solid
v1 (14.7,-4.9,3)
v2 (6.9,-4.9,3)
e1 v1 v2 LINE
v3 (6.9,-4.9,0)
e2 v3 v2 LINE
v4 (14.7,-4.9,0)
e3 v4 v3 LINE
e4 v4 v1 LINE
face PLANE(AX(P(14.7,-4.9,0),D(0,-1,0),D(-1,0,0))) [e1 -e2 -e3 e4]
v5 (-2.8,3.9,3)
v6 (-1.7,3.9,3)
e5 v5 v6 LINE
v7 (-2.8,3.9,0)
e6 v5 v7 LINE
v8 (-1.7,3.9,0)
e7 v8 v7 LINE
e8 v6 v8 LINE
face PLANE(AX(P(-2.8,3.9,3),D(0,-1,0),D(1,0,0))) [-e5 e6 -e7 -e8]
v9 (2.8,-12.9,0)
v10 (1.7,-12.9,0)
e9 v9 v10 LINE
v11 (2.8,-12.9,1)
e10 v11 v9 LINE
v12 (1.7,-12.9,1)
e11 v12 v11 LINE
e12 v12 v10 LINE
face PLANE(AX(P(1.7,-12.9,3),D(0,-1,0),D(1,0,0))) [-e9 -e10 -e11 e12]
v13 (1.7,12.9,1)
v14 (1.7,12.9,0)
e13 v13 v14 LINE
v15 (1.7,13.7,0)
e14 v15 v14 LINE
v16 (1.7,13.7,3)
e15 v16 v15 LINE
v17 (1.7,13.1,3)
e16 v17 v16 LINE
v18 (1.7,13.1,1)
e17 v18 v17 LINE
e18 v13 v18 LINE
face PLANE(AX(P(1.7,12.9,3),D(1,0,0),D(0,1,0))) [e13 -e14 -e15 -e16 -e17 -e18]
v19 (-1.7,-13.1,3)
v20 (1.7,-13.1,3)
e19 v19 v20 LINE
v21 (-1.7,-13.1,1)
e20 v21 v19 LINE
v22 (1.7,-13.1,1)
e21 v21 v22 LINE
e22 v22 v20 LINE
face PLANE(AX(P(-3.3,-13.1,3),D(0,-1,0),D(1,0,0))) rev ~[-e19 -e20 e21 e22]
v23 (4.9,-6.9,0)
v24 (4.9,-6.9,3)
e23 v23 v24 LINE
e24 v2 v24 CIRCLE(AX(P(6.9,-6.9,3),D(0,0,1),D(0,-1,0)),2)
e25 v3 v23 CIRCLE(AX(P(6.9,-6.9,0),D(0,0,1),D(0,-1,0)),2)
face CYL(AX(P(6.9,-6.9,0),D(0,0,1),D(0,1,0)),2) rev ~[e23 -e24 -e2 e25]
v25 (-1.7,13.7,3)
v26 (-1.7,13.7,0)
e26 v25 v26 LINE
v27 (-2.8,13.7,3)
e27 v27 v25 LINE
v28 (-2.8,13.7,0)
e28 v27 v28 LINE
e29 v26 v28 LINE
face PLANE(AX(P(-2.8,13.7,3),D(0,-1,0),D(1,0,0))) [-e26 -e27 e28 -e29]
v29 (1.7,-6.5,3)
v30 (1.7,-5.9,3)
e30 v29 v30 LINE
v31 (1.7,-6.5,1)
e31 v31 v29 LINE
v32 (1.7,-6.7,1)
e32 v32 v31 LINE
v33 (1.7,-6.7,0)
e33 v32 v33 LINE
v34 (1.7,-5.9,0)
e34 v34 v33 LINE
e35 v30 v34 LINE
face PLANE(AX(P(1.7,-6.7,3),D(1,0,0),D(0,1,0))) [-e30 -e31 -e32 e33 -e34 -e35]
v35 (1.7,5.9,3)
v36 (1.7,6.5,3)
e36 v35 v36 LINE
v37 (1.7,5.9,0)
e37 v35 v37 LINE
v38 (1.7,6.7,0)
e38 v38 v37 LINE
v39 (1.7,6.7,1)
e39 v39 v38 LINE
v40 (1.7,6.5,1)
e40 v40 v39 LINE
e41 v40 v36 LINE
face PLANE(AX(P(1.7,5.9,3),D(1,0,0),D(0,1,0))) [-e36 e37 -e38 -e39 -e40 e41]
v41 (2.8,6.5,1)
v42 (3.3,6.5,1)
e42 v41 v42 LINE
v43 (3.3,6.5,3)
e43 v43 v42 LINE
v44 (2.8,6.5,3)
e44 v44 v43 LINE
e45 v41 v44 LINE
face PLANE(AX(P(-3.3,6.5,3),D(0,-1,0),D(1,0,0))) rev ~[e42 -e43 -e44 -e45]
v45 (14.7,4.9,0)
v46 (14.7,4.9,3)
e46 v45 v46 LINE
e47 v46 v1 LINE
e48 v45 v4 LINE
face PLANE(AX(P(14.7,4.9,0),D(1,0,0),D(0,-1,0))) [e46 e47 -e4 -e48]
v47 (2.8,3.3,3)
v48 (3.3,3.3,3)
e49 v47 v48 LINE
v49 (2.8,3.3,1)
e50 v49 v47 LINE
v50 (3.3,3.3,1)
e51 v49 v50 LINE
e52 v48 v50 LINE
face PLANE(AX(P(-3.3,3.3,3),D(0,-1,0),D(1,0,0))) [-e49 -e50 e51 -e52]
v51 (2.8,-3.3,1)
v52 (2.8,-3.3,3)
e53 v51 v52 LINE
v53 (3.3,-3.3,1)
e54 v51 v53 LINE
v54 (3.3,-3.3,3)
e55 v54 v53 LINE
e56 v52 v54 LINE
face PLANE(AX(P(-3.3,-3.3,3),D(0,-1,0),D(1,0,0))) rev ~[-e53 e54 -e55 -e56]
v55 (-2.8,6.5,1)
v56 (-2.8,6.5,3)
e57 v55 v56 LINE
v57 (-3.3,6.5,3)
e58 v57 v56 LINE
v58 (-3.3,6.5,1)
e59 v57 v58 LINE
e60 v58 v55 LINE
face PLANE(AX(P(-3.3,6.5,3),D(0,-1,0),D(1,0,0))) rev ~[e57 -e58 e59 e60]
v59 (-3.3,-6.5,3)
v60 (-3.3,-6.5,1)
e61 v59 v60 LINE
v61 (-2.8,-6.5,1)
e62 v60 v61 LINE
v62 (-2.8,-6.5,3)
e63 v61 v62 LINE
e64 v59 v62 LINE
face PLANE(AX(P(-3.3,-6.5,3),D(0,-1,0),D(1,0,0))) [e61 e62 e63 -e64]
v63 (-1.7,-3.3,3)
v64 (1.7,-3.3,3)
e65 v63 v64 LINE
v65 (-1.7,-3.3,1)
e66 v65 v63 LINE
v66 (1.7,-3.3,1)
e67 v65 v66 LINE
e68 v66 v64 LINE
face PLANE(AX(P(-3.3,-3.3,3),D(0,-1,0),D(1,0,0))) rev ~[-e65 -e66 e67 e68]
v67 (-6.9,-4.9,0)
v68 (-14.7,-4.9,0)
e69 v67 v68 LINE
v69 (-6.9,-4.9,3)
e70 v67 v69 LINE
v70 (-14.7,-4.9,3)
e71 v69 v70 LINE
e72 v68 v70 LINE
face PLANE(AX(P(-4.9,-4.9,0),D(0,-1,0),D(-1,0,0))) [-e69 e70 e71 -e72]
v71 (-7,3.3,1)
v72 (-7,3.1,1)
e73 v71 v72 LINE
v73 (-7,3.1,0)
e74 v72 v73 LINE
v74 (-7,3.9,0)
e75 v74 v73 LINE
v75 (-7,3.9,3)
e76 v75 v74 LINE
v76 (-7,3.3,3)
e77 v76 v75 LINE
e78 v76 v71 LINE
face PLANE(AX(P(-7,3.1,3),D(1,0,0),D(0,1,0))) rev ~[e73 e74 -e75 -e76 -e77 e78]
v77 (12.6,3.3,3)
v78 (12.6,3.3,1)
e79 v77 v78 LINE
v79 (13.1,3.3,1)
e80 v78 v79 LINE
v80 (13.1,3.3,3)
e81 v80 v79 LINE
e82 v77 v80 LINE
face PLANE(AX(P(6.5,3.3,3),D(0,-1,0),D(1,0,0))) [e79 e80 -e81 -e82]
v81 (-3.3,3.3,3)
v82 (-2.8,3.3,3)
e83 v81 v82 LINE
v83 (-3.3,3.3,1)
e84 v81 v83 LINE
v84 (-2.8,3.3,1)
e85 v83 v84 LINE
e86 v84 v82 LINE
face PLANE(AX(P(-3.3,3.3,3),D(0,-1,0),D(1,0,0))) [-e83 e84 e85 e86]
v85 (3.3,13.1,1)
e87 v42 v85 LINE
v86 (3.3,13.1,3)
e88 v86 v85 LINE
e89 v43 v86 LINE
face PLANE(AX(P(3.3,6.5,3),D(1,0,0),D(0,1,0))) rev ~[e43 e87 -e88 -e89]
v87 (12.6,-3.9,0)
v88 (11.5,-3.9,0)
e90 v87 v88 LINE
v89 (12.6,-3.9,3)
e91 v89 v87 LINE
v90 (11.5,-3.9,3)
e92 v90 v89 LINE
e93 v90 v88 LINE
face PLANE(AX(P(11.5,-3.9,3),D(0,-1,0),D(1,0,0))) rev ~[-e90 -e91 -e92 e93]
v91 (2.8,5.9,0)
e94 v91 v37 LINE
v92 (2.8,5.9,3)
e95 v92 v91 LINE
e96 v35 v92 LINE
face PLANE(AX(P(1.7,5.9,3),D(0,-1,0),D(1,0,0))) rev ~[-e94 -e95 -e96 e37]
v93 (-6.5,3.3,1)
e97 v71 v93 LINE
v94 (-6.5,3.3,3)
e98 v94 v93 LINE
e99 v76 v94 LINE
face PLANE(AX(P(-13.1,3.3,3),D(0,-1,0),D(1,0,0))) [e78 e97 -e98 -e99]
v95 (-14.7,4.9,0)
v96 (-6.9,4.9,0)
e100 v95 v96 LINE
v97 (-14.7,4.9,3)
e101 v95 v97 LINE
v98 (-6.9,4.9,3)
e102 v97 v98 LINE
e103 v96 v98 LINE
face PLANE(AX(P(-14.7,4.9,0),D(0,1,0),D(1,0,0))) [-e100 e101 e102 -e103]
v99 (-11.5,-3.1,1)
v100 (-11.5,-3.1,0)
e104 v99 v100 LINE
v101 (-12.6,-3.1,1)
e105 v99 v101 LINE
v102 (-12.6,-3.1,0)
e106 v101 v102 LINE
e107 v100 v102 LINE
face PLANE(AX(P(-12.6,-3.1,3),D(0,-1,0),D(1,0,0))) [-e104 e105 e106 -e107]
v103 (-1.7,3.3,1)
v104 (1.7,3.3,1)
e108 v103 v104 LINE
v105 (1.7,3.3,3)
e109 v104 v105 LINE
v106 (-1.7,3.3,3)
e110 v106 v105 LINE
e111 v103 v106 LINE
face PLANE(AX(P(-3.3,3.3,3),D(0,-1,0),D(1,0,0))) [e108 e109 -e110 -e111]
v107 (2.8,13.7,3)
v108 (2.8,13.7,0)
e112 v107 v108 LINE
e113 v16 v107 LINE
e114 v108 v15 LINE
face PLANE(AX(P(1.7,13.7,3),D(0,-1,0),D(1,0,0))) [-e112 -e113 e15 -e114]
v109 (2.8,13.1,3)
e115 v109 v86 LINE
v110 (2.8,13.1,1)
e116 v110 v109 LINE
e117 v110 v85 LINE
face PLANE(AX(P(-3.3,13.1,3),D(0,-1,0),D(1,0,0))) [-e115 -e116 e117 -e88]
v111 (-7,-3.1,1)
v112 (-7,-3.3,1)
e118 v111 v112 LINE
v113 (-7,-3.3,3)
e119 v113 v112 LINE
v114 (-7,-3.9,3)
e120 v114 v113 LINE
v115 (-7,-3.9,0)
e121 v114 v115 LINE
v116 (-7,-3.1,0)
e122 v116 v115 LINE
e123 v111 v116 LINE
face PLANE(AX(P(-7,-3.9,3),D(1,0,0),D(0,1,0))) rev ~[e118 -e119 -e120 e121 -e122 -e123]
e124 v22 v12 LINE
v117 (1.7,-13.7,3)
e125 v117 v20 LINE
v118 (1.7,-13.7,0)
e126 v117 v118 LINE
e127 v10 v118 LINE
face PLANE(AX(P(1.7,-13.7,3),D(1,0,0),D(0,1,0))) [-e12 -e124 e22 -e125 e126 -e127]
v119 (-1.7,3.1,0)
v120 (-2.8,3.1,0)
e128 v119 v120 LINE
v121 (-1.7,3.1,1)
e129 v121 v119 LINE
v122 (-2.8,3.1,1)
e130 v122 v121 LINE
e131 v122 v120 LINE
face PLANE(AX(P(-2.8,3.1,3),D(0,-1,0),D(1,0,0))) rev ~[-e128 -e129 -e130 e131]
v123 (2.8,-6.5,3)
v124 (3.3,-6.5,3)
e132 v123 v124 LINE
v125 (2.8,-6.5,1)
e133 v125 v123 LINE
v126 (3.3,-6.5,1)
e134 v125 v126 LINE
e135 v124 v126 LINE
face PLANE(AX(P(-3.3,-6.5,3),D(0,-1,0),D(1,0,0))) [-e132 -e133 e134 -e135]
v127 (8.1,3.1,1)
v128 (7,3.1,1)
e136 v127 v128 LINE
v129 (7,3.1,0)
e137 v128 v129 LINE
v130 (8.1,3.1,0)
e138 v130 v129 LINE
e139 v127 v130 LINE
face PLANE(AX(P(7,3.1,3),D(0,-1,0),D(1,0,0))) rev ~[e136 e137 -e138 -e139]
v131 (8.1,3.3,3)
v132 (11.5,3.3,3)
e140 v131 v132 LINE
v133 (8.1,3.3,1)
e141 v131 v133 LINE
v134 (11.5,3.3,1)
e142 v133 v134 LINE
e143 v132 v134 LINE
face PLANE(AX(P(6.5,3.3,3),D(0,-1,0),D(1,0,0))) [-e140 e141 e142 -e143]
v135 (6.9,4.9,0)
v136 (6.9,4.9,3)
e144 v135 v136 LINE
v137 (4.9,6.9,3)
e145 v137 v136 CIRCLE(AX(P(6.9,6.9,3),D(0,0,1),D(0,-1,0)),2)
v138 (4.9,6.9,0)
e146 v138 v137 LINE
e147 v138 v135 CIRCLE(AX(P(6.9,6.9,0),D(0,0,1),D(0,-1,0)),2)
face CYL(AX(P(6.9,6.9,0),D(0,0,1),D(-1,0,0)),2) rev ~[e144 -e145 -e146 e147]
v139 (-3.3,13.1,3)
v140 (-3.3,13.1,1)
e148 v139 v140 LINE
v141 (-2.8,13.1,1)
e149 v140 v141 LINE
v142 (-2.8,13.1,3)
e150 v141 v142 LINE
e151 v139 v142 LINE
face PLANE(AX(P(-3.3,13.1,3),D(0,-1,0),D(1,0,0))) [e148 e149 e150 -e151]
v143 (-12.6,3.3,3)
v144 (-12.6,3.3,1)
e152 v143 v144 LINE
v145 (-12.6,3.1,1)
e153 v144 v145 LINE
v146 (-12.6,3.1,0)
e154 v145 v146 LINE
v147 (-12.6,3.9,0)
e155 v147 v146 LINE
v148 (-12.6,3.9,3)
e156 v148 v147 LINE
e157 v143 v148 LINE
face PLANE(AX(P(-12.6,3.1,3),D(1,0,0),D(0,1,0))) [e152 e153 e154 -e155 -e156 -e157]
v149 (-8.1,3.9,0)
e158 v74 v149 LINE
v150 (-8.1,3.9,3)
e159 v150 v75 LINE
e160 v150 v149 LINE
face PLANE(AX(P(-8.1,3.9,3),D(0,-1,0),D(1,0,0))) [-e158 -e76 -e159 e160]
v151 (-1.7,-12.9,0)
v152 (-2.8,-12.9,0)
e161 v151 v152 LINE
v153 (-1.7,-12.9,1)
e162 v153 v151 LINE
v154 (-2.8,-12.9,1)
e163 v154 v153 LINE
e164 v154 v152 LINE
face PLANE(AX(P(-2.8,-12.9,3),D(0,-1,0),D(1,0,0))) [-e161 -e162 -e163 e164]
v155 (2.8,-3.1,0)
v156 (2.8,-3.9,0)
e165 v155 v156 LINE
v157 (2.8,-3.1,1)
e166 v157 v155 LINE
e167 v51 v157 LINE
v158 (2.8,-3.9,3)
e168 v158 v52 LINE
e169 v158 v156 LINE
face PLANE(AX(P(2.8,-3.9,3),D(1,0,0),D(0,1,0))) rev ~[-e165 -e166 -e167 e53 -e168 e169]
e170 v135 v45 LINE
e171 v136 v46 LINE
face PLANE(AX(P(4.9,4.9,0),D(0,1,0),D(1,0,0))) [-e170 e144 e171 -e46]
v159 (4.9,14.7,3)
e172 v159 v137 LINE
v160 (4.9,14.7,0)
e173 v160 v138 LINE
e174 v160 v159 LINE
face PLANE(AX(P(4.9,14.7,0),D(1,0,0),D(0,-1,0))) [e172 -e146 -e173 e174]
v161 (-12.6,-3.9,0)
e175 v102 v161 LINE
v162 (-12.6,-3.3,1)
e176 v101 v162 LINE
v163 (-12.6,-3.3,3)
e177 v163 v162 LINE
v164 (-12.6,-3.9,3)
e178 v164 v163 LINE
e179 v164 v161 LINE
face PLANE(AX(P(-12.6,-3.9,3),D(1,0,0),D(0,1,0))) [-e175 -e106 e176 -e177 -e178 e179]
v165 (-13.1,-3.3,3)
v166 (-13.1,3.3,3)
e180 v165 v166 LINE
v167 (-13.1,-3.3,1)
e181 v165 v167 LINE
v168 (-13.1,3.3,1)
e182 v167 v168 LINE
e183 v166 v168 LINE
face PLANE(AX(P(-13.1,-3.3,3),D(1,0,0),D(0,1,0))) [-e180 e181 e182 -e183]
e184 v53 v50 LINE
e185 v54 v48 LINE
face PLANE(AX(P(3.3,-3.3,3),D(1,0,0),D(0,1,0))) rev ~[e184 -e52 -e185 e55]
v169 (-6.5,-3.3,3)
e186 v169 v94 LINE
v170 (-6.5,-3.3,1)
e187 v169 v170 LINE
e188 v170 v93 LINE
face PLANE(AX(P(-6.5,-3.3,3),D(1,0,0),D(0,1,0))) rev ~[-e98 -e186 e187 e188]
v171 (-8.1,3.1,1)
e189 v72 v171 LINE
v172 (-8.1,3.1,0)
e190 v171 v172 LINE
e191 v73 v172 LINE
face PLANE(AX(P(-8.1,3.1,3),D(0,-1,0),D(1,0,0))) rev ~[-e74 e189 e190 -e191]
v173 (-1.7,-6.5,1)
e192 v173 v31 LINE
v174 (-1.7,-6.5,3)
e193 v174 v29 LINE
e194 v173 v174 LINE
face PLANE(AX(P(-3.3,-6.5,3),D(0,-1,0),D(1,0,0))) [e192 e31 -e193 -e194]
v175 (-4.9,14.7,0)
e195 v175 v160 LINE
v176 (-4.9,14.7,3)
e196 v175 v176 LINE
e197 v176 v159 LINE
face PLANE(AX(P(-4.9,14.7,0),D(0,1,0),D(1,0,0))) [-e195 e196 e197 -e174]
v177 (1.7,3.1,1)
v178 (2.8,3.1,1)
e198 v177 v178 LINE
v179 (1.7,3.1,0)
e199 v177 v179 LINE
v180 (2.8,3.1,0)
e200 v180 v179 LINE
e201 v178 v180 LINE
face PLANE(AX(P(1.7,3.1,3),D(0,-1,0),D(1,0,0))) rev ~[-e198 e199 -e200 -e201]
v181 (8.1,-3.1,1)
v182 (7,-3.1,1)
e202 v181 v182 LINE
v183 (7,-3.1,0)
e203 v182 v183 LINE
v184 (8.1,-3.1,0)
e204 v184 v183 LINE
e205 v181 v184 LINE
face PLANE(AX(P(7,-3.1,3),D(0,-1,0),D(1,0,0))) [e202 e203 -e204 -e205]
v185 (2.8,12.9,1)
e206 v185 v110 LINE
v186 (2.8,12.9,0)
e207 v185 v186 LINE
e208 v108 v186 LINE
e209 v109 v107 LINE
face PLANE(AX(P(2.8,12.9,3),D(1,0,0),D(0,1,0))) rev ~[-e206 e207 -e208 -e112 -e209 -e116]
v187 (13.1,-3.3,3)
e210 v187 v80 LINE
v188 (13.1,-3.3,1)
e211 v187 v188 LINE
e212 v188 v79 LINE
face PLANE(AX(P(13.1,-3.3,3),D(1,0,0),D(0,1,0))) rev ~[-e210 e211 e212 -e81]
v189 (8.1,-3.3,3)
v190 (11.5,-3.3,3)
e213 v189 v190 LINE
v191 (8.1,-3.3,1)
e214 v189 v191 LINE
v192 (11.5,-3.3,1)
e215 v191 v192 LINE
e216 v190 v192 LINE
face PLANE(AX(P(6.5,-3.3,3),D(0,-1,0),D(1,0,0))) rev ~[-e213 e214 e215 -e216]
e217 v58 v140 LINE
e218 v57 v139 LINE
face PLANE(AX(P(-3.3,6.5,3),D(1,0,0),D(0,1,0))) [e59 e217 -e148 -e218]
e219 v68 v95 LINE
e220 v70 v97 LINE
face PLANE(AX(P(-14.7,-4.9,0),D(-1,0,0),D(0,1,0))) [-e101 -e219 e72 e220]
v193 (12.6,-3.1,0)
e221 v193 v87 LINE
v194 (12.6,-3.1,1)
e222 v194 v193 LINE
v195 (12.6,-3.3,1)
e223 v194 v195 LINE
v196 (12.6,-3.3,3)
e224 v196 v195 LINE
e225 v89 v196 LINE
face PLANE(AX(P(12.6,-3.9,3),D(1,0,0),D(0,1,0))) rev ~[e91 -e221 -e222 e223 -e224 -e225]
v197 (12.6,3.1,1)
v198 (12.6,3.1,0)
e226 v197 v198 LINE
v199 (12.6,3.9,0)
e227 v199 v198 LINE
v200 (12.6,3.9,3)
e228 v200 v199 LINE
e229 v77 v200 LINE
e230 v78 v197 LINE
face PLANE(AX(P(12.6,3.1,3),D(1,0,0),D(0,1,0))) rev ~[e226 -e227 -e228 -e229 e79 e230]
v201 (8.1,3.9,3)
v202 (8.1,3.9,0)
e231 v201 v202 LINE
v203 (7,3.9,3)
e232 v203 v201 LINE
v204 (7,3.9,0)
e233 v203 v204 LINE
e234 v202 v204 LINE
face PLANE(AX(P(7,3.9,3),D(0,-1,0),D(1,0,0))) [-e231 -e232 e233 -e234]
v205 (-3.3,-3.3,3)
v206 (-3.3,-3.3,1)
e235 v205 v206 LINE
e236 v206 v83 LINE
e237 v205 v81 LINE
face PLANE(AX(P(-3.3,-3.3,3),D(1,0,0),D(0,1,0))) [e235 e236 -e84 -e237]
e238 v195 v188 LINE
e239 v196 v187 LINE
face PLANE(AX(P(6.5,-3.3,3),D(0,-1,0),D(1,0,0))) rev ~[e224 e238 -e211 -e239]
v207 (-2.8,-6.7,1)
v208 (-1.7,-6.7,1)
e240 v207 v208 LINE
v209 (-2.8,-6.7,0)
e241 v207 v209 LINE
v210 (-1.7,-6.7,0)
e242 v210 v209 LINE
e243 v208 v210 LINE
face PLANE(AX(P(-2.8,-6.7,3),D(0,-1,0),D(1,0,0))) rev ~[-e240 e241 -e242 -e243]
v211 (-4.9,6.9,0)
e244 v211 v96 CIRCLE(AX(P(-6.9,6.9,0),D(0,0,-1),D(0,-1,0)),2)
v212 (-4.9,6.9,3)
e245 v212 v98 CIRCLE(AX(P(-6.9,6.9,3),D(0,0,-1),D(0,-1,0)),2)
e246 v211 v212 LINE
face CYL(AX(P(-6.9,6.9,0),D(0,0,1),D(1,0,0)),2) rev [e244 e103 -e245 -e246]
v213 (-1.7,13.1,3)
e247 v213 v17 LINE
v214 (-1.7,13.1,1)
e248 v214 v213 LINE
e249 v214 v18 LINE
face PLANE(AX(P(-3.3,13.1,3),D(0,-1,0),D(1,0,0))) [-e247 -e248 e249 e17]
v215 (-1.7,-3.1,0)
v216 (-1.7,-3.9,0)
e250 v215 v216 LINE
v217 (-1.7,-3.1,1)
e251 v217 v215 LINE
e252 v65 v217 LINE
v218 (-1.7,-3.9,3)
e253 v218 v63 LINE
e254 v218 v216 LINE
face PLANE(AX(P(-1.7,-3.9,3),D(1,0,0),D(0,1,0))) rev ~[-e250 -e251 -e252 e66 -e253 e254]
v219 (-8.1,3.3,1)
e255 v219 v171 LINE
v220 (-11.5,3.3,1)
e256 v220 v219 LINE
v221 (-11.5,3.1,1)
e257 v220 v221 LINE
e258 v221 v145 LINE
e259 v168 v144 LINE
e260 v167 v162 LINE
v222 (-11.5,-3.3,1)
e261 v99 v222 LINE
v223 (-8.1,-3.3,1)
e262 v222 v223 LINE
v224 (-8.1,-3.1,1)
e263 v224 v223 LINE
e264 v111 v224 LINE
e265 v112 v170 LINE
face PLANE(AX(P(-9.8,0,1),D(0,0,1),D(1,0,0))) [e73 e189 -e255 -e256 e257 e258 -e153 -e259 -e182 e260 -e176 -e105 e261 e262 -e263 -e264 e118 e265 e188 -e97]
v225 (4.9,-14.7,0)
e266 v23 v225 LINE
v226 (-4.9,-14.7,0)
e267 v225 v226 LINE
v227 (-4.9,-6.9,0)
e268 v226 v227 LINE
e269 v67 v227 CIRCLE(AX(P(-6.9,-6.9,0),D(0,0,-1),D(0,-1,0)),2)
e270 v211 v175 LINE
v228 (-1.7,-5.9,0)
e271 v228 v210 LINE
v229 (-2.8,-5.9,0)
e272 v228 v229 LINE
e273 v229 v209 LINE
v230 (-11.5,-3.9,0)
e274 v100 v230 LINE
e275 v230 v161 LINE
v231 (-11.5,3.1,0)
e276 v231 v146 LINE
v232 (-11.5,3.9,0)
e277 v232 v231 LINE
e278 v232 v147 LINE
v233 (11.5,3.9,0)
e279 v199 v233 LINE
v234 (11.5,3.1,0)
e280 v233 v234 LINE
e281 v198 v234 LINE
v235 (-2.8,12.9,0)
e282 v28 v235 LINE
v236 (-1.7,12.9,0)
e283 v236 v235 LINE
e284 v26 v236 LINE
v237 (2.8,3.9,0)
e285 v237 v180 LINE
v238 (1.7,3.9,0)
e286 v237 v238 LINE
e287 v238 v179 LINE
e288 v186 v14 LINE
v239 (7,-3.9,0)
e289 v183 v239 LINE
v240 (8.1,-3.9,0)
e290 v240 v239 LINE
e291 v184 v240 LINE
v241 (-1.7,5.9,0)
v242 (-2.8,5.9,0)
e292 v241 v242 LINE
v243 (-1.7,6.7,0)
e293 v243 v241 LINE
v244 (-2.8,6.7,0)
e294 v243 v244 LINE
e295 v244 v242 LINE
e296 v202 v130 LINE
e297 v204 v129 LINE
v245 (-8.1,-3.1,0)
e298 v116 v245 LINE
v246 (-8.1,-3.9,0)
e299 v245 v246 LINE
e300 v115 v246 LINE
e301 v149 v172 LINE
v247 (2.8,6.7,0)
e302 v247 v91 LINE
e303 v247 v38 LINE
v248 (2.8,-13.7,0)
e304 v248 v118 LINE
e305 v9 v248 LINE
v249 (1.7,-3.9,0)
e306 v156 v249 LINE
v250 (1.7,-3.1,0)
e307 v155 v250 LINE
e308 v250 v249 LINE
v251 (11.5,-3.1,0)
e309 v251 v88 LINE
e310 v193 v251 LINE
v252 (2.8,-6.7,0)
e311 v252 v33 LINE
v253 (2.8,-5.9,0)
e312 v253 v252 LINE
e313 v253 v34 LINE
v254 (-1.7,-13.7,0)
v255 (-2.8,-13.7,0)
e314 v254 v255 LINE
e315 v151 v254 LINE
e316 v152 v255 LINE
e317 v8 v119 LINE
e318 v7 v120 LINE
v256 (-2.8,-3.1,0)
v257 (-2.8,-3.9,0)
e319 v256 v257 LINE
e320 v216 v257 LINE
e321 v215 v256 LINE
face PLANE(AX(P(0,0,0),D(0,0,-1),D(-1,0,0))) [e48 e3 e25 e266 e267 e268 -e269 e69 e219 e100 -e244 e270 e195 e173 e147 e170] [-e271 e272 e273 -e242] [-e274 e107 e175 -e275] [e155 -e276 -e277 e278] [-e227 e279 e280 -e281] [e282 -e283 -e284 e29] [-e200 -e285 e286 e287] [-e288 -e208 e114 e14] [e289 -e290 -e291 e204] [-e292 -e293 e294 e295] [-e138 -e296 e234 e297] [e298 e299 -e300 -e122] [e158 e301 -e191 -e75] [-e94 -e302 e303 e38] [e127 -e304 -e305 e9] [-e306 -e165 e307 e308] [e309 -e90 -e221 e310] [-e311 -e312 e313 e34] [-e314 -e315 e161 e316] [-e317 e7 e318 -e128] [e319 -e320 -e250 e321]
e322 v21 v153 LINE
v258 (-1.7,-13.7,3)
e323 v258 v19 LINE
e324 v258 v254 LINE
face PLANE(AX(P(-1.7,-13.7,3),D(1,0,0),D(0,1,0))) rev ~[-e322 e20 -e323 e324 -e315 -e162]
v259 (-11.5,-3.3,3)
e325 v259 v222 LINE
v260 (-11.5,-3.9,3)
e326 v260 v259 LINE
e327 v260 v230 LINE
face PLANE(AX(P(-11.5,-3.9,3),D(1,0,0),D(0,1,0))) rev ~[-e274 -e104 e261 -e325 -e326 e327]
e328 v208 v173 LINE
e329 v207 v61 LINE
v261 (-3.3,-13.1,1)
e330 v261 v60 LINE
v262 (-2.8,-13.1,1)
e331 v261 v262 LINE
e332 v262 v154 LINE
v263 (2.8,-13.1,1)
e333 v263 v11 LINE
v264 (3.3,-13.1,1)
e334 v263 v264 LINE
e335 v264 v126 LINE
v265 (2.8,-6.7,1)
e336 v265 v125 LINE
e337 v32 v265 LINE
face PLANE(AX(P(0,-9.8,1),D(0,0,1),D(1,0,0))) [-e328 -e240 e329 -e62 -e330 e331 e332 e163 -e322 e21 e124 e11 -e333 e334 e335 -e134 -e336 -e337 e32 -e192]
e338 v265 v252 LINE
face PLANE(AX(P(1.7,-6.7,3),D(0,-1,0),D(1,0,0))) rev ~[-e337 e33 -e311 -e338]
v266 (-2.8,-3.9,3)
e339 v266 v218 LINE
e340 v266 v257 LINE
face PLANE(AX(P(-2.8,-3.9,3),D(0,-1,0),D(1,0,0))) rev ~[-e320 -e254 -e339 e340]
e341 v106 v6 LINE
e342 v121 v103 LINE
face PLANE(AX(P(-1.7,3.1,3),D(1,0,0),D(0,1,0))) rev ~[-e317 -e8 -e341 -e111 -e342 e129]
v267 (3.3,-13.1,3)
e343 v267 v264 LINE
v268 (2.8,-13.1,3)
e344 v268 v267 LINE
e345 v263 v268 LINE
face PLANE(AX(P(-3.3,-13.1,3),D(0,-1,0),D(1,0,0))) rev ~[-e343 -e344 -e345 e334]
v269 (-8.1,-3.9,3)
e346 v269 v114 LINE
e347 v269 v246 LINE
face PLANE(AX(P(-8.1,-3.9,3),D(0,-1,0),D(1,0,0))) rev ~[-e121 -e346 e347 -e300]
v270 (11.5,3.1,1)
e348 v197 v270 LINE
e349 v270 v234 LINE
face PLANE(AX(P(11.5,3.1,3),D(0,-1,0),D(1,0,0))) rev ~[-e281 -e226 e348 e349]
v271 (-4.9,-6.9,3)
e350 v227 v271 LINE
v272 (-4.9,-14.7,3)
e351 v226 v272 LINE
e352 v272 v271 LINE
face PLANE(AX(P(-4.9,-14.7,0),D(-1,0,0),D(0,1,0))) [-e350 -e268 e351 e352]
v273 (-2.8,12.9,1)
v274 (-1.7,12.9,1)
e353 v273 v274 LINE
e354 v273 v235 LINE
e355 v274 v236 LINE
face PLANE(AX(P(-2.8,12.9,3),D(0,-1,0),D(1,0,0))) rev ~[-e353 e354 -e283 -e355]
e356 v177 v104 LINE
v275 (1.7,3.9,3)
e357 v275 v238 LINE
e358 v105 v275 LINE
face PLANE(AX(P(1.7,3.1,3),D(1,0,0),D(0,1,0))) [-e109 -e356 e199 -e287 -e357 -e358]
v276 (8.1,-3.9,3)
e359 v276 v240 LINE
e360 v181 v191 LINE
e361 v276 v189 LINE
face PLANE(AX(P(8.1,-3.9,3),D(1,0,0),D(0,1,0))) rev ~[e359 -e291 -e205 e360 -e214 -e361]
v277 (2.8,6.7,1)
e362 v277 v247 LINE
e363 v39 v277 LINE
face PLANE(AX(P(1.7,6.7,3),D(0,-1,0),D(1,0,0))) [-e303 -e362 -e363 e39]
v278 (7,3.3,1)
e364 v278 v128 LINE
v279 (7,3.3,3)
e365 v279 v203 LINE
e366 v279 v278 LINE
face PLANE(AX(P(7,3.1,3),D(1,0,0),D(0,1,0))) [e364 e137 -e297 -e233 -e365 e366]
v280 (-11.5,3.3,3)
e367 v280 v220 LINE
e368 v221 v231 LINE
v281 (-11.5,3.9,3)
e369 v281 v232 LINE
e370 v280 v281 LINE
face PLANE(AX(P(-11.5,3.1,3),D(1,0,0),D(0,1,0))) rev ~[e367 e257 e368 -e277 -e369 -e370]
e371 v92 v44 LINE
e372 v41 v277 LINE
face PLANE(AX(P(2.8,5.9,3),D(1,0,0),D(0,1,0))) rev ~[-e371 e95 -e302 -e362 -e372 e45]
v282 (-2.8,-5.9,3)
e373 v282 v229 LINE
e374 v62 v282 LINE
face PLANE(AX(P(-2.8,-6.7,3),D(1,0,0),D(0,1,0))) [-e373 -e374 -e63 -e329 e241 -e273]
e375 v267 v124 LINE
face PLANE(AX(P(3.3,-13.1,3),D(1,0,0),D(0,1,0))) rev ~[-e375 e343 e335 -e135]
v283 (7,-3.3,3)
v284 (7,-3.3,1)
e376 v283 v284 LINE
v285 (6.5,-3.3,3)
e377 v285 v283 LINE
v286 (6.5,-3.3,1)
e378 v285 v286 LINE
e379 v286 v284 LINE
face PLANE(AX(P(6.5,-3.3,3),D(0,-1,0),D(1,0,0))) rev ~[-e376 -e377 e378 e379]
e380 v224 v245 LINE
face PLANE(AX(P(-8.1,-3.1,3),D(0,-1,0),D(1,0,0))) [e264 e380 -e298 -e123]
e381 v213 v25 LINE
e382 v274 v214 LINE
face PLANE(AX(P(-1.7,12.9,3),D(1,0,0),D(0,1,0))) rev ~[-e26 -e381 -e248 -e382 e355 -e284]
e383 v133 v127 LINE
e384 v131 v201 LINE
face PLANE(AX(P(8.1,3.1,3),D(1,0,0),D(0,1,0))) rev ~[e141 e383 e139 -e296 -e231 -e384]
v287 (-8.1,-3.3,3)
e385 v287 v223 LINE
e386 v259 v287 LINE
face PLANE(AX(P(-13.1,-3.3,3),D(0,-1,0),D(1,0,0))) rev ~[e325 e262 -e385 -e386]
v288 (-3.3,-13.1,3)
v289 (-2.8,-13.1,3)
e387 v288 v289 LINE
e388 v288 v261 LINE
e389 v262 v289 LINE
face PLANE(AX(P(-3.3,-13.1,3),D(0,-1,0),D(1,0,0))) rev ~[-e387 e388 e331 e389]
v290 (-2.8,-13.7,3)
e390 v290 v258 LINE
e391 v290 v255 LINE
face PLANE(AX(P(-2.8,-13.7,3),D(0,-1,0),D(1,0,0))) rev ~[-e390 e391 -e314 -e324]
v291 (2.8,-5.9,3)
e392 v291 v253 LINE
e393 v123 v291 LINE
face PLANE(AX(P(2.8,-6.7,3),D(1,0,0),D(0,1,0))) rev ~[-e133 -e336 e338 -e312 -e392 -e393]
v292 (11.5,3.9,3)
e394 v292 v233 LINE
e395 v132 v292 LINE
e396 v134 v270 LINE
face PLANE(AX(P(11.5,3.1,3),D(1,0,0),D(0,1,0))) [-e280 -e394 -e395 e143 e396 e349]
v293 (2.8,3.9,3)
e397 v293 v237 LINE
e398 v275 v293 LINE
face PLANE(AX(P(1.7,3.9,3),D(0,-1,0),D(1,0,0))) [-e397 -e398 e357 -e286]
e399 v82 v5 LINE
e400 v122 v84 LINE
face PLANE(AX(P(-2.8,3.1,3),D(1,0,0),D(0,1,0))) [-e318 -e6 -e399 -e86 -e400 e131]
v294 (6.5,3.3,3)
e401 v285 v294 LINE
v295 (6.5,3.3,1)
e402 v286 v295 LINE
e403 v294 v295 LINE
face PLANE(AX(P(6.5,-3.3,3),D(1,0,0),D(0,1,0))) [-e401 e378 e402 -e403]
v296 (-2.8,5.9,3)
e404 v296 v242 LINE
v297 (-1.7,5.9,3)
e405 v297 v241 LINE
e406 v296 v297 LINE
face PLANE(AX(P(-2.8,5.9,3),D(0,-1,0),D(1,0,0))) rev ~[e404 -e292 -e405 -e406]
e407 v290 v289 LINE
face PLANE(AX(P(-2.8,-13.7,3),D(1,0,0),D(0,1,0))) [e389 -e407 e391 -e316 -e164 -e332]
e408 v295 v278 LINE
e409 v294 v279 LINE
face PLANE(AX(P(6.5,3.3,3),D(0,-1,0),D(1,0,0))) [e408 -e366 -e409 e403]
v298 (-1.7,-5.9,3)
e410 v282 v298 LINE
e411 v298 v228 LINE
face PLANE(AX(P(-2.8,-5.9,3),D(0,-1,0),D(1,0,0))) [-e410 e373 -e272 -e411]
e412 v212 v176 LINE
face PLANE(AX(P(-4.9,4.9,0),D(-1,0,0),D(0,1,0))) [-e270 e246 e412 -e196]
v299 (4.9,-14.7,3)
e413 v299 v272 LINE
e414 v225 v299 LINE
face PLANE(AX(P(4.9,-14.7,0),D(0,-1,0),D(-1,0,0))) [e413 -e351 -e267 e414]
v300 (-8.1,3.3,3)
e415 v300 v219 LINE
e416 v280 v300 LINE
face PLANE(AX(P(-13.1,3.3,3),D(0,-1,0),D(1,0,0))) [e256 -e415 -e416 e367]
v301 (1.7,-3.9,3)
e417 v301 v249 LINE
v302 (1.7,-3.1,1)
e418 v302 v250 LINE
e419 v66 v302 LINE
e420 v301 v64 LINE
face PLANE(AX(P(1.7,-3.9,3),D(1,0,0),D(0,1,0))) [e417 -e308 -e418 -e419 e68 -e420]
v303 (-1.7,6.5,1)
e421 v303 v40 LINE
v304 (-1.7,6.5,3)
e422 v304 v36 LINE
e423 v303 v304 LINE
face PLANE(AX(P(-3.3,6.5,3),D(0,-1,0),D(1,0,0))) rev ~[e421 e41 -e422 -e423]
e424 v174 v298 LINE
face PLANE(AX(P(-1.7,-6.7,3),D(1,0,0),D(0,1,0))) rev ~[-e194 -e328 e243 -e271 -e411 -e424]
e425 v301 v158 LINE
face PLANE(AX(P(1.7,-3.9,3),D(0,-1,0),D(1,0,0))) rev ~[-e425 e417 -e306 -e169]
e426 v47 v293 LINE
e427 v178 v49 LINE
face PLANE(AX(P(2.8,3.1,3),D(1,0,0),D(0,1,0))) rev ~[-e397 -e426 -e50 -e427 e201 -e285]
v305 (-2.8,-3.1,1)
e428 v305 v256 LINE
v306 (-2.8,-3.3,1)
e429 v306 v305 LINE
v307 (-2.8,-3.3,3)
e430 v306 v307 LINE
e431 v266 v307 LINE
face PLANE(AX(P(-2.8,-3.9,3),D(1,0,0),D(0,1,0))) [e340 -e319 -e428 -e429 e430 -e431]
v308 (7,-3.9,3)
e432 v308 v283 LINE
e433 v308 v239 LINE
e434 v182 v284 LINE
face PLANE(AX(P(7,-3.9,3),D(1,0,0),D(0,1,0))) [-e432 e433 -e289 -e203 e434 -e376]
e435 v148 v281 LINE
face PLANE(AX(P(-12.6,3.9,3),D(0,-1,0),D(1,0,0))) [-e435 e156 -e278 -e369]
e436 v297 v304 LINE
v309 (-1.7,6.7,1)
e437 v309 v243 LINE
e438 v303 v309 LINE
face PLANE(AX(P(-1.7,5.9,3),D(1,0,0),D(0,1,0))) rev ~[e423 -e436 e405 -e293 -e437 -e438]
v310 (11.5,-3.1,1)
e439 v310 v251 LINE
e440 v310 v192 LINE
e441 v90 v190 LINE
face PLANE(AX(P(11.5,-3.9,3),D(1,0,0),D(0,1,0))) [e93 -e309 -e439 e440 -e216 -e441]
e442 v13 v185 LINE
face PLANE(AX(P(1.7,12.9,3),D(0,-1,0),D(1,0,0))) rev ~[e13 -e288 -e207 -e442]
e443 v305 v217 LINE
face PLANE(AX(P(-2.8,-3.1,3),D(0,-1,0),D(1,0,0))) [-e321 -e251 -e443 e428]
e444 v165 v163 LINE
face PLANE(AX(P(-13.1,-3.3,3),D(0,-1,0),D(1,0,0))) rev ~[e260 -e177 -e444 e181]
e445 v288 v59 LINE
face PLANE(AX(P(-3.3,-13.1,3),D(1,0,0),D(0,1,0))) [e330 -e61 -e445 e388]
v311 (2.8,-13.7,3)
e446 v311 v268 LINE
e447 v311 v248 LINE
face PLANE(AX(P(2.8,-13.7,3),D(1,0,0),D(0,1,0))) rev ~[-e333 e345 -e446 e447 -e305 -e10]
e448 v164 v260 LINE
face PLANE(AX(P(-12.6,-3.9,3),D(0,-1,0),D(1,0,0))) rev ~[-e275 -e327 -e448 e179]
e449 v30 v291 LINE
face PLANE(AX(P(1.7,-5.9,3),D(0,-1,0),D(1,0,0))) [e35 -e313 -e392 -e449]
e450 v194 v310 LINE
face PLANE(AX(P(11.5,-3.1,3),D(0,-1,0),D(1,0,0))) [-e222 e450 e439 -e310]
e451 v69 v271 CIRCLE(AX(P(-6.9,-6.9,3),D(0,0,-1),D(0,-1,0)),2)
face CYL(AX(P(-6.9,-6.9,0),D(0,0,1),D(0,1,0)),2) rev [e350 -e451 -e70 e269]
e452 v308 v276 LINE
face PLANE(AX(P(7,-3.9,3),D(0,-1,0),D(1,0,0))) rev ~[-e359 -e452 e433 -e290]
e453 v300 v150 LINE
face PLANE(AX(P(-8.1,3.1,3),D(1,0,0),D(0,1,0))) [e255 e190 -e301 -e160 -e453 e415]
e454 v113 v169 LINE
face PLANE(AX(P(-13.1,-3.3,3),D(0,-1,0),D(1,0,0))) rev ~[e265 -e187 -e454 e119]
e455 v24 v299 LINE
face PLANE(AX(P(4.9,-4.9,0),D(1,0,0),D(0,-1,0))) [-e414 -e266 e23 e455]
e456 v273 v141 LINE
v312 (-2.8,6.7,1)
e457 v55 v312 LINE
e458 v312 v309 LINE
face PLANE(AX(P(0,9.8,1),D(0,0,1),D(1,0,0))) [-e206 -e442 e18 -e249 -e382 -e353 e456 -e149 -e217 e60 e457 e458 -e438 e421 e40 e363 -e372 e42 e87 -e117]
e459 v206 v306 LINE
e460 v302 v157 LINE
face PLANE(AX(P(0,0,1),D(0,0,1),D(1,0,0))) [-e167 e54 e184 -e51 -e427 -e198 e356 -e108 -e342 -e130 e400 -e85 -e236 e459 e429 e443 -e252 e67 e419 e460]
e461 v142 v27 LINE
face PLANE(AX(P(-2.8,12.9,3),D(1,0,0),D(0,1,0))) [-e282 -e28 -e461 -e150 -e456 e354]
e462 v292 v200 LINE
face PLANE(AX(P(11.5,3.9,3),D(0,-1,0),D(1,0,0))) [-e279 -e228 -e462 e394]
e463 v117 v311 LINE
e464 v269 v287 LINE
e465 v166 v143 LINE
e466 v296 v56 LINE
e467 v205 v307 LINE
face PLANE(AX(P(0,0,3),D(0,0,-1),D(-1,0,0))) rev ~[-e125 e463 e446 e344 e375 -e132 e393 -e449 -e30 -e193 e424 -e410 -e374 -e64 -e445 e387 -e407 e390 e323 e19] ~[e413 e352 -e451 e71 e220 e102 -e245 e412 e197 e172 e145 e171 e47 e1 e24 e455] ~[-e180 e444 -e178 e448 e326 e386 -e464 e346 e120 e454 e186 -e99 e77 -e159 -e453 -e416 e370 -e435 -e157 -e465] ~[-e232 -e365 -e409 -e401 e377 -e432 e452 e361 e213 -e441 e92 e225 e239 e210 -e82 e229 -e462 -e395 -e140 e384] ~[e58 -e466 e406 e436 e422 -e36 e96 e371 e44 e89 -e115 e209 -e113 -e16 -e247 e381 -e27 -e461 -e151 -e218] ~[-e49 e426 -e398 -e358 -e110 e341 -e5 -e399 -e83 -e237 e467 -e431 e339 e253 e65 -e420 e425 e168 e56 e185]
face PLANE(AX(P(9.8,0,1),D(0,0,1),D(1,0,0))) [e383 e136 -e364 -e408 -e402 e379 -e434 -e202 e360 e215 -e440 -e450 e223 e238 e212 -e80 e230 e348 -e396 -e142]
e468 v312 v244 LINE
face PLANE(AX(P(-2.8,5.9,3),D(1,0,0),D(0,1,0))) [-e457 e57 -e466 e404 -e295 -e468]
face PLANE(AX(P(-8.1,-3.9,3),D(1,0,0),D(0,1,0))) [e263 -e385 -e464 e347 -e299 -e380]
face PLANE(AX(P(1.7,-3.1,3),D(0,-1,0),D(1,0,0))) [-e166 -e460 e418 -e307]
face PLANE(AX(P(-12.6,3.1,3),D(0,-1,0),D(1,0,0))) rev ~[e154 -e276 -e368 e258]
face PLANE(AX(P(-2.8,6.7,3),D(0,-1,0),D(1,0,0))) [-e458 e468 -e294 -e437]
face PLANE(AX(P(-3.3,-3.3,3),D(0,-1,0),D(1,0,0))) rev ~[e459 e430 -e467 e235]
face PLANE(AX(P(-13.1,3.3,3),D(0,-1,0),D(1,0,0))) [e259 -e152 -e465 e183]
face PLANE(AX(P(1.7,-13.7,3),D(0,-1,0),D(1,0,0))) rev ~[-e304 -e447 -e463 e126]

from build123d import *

# Parameters (mm, degrees)
PAD_DEPTH                          = 3
SKETCH001_W                        = 6.6
SKETCH001_H                        = 6.6
POCKET_DEPTH                       = 2
SKETCH002_W                        = 1.1
SKETCH002_H                        = 0.8
POCKET001_DEPTH                    = 86.372938
SKETCH002_LINEARPATTERN_2_W        = 1.1
SKETCH002_LINEARPATTERN_2_H        = 0.8
POCKET001_LINEARPATTERN_2_DEPTH    = 86.372938
SKETCH001_LINEARPATTERN_2_W        = 6.6
SKETCH001_LINEARPATTERN_2_H        = 6.6
POCKET_LINEARPATTERN_2_DEPTH       = 2
LINEARPATTERN001_COUNT             = 2
LINEARPATTERN001_PITCH             = 9.8
SKETCH001_LINEARPATTERN002_2_W     = 6.6
SKETCH001_LINEARPATTERN002_2_H     = 6.6
POCKET_LINEARPATTERN002_2_DEPTH    = 2
SKETCH002_LINEARPATTERN002_2_W     = 1.1
SKETCH002_LINEARPATTERN002_2_H     = 0.8
POCKET001_LINEARPATTERN002_2_DEPTH = 86.372938
LINEARPATTERN003_COUNT             = 2
LINEARPATTERN003_PITCH             = 9.8
FILLET_R                           = 2


with BuildPart() as part:
    # Sketch → Pad (new body)
    with BuildSketch(Plane.XY):
        Polygon((-4.9, 4.9), (-4.9, 14.7), (4.9, 14.7), (4.9, 4.9), (14.7, 4.9), (14.7, -4.9), (4.9, -4.9), (4.9, -14.7), (-4.9, -14.7), (-4.9, -4.9), (-14.7, -4.9), (-14.7, 4.9), align=None)
    extrude(amount=PAD_DEPTH)

    # Sketch001 (on Face14 of Pad) → Pocket (cut)
    with BuildSketch(Plane.XY.offset(3)):
        Rectangle(SKETCH001_W, SKETCH001_H)
    pocket = extrude(amount=-POCKET_DEPTH, mode=Mode.SUBTRACT)

    # Sketch002 (on Face5 of Pocket) → Pocket001 (cut, through all)
    with BuildSketch(Plane.XY.offset(3)):
        with Locations((-2.25, 3.5)):
            Rectangle(SKETCH002_W, SKETCH002_H)
        with Locations((2.25, 3.5)):
            Rectangle(SKETCH002_W, SKETCH002_H)
        with Locations((2.25, -3.5)):
            Rectangle(SKETCH002_W, SKETCH002_H)
        with Locations((-2.25, -3.5)):
            Rectangle(SKETCH002_W, SKETCH002_H)
    pocket001 = extrude(amount=-POCKET001_DEPTH, mode=Mode.SUBTRACT)

    # Sketch002 LinearPattern 2 → Pocket001 LinearPattern 2 (cut, through all)
    with BuildSketch(Plane(origin=(9.8, 0, 3), x_dir=(1, 0, 0), z_dir=(0, 0, 1))):
        with Locations((-2.25, 3.5)):
            Rectangle(SKETCH002_LINEARPATTERN_2_W, SKETCH002_LINEARPATTERN_2_H)
        with Locations((2.25, 3.5)):
            Rectangle(SKETCH002_LINEARPATTERN_2_W, SKETCH002_LINEARPATTERN_2_H)
        with Locations((2.25, -3.5)):
            Rectangle(SKETCH002_LINEARPATTERN_2_W, SKETCH002_LINEARPATTERN_2_H)
        with Locations((-2.25, -3.5)):
            Rectangle(SKETCH002_LINEARPATTERN_2_W, SKETCH002_LINEARPATTERN_2_H)
    pocket001_linearpattern_2 = extrude(amount=-POCKET001_LINEARPATTERN_2_DEPTH, mode=Mode.SUBTRACT)

    # Sketch001 LinearPattern 2 → Pocket LinearPattern 2 (cut)
    with BuildSketch(Plane(origin=(9.8, 0, 3), x_dir=(1, 0, 0), z_dir=(0, 0, 1))):
        Rectangle(SKETCH001_LINEARPATTERN_2_W, SKETCH001_LINEARPATTERN_2_H)
    pocket_linearpattern_2 = extrude(amount=-POCKET_LINEARPATTERN_2_DEPTH, mode=Mode.SUBTRACT)

    # LinearPattern001: Pocket001, Pocket, Pocket001 LinearPattern 2, Pocket LinearPattern 2 ×2
    with Locations(*[(-i * LINEARPATTERN001_PITCH, 0, 0) for i in range(1, LINEARPATTERN001_COUNT)]):
        add(pocket001, mode=Mode.SUBTRACT)
        add(pocket, mode=Mode.SUBTRACT)
        add(pocket001_linearpattern_2, mode=Mode.SUBTRACT)
        add(pocket_linearpattern_2, mode=Mode.SUBTRACT)

    # Sketch001 LinearPattern002 2 → Pocket LinearPattern002 2 (cut)
    with BuildSketch(Plane(origin=(0, 9.8, 3), x_dir=(1, 0, 0), z_dir=(0, 0, 1))):
        Rectangle(SKETCH001_LINEARPATTERN002_2_W, SKETCH001_LINEARPATTERN002_2_H)
    pocket_linearpattern002_2 = extrude(amount=-POCKET_LINEARPATTERN002_2_DEPTH, mode=Mode.SUBTRACT)

    # Sketch002 LinearPattern002 2 → Pocket001 LinearPattern002 2 (cut, through all)
    with BuildSketch(Plane(origin=(0, 9.8, 3), x_dir=(1, 0, 0), z_dir=(0, 0, 1))):
        with Locations((-2.25, 3.5)):
            Rectangle(SKETCH002_LINEARPATTERN002_2_W, SKETCH002_LINEARPATTERN002_2_H)
        with Locations((2.25, 3.5)):
            Rectangle(SKETCH002_LINEARPATTERN002_2_W, SKETCH002_LINEARPATTERN002_2_H)
        with Locations((2.25, -3.5)):
            Rectangle(SKETCH002_LINEARPATTERN002_2_W, SKETCH002_LINEARPATTERN002_2_H)
        with Locations((-2.25, -3.5)):
            Rectangle(SKETCH002_LINEARPATTERN002_2_W, SKETCH002_LINEARPATTERN002_2_H)
    pocket001_linearpattern002_2 = extrude(amount=-POCKET001_LINEARPATTERN002_2_DEPTH, mode=Mode.SUBTRACT)

    # LinearPattern003: Pocket, Pocket001, Pocket LinearPattern002 2, Pocket001 LinearPattern002 2 ×2
    with Locations(*[(0, -i * LINEARPATTERN003_PITCH, 0) for i in range(1, LINEARPATTERN003_COUNT)]):
        add(pocket, mode=Mode.SUBTRACT)
        add(pocket001, mode=Mode.SUBTRACT)
        add(pocket_linearpattern002_2, mode=Mode.SUBTRACT)
        add(pocket001_linearpattern002_2, mode=Mode.SUBTRACT)

    # Fillet
    fillet_edges = [part.edges().sort_by_distance(p)[0] for p in [
        (-4.9, -4.9, 1.5),
        (4.9, -4.9, 1.5),
        (4.9, 4.9, 1.5),
        (-4.9, 4.9, 1.5),
    ]]
    fillet(fillet_edges, radius=FILLET_R)


solid = part.part
